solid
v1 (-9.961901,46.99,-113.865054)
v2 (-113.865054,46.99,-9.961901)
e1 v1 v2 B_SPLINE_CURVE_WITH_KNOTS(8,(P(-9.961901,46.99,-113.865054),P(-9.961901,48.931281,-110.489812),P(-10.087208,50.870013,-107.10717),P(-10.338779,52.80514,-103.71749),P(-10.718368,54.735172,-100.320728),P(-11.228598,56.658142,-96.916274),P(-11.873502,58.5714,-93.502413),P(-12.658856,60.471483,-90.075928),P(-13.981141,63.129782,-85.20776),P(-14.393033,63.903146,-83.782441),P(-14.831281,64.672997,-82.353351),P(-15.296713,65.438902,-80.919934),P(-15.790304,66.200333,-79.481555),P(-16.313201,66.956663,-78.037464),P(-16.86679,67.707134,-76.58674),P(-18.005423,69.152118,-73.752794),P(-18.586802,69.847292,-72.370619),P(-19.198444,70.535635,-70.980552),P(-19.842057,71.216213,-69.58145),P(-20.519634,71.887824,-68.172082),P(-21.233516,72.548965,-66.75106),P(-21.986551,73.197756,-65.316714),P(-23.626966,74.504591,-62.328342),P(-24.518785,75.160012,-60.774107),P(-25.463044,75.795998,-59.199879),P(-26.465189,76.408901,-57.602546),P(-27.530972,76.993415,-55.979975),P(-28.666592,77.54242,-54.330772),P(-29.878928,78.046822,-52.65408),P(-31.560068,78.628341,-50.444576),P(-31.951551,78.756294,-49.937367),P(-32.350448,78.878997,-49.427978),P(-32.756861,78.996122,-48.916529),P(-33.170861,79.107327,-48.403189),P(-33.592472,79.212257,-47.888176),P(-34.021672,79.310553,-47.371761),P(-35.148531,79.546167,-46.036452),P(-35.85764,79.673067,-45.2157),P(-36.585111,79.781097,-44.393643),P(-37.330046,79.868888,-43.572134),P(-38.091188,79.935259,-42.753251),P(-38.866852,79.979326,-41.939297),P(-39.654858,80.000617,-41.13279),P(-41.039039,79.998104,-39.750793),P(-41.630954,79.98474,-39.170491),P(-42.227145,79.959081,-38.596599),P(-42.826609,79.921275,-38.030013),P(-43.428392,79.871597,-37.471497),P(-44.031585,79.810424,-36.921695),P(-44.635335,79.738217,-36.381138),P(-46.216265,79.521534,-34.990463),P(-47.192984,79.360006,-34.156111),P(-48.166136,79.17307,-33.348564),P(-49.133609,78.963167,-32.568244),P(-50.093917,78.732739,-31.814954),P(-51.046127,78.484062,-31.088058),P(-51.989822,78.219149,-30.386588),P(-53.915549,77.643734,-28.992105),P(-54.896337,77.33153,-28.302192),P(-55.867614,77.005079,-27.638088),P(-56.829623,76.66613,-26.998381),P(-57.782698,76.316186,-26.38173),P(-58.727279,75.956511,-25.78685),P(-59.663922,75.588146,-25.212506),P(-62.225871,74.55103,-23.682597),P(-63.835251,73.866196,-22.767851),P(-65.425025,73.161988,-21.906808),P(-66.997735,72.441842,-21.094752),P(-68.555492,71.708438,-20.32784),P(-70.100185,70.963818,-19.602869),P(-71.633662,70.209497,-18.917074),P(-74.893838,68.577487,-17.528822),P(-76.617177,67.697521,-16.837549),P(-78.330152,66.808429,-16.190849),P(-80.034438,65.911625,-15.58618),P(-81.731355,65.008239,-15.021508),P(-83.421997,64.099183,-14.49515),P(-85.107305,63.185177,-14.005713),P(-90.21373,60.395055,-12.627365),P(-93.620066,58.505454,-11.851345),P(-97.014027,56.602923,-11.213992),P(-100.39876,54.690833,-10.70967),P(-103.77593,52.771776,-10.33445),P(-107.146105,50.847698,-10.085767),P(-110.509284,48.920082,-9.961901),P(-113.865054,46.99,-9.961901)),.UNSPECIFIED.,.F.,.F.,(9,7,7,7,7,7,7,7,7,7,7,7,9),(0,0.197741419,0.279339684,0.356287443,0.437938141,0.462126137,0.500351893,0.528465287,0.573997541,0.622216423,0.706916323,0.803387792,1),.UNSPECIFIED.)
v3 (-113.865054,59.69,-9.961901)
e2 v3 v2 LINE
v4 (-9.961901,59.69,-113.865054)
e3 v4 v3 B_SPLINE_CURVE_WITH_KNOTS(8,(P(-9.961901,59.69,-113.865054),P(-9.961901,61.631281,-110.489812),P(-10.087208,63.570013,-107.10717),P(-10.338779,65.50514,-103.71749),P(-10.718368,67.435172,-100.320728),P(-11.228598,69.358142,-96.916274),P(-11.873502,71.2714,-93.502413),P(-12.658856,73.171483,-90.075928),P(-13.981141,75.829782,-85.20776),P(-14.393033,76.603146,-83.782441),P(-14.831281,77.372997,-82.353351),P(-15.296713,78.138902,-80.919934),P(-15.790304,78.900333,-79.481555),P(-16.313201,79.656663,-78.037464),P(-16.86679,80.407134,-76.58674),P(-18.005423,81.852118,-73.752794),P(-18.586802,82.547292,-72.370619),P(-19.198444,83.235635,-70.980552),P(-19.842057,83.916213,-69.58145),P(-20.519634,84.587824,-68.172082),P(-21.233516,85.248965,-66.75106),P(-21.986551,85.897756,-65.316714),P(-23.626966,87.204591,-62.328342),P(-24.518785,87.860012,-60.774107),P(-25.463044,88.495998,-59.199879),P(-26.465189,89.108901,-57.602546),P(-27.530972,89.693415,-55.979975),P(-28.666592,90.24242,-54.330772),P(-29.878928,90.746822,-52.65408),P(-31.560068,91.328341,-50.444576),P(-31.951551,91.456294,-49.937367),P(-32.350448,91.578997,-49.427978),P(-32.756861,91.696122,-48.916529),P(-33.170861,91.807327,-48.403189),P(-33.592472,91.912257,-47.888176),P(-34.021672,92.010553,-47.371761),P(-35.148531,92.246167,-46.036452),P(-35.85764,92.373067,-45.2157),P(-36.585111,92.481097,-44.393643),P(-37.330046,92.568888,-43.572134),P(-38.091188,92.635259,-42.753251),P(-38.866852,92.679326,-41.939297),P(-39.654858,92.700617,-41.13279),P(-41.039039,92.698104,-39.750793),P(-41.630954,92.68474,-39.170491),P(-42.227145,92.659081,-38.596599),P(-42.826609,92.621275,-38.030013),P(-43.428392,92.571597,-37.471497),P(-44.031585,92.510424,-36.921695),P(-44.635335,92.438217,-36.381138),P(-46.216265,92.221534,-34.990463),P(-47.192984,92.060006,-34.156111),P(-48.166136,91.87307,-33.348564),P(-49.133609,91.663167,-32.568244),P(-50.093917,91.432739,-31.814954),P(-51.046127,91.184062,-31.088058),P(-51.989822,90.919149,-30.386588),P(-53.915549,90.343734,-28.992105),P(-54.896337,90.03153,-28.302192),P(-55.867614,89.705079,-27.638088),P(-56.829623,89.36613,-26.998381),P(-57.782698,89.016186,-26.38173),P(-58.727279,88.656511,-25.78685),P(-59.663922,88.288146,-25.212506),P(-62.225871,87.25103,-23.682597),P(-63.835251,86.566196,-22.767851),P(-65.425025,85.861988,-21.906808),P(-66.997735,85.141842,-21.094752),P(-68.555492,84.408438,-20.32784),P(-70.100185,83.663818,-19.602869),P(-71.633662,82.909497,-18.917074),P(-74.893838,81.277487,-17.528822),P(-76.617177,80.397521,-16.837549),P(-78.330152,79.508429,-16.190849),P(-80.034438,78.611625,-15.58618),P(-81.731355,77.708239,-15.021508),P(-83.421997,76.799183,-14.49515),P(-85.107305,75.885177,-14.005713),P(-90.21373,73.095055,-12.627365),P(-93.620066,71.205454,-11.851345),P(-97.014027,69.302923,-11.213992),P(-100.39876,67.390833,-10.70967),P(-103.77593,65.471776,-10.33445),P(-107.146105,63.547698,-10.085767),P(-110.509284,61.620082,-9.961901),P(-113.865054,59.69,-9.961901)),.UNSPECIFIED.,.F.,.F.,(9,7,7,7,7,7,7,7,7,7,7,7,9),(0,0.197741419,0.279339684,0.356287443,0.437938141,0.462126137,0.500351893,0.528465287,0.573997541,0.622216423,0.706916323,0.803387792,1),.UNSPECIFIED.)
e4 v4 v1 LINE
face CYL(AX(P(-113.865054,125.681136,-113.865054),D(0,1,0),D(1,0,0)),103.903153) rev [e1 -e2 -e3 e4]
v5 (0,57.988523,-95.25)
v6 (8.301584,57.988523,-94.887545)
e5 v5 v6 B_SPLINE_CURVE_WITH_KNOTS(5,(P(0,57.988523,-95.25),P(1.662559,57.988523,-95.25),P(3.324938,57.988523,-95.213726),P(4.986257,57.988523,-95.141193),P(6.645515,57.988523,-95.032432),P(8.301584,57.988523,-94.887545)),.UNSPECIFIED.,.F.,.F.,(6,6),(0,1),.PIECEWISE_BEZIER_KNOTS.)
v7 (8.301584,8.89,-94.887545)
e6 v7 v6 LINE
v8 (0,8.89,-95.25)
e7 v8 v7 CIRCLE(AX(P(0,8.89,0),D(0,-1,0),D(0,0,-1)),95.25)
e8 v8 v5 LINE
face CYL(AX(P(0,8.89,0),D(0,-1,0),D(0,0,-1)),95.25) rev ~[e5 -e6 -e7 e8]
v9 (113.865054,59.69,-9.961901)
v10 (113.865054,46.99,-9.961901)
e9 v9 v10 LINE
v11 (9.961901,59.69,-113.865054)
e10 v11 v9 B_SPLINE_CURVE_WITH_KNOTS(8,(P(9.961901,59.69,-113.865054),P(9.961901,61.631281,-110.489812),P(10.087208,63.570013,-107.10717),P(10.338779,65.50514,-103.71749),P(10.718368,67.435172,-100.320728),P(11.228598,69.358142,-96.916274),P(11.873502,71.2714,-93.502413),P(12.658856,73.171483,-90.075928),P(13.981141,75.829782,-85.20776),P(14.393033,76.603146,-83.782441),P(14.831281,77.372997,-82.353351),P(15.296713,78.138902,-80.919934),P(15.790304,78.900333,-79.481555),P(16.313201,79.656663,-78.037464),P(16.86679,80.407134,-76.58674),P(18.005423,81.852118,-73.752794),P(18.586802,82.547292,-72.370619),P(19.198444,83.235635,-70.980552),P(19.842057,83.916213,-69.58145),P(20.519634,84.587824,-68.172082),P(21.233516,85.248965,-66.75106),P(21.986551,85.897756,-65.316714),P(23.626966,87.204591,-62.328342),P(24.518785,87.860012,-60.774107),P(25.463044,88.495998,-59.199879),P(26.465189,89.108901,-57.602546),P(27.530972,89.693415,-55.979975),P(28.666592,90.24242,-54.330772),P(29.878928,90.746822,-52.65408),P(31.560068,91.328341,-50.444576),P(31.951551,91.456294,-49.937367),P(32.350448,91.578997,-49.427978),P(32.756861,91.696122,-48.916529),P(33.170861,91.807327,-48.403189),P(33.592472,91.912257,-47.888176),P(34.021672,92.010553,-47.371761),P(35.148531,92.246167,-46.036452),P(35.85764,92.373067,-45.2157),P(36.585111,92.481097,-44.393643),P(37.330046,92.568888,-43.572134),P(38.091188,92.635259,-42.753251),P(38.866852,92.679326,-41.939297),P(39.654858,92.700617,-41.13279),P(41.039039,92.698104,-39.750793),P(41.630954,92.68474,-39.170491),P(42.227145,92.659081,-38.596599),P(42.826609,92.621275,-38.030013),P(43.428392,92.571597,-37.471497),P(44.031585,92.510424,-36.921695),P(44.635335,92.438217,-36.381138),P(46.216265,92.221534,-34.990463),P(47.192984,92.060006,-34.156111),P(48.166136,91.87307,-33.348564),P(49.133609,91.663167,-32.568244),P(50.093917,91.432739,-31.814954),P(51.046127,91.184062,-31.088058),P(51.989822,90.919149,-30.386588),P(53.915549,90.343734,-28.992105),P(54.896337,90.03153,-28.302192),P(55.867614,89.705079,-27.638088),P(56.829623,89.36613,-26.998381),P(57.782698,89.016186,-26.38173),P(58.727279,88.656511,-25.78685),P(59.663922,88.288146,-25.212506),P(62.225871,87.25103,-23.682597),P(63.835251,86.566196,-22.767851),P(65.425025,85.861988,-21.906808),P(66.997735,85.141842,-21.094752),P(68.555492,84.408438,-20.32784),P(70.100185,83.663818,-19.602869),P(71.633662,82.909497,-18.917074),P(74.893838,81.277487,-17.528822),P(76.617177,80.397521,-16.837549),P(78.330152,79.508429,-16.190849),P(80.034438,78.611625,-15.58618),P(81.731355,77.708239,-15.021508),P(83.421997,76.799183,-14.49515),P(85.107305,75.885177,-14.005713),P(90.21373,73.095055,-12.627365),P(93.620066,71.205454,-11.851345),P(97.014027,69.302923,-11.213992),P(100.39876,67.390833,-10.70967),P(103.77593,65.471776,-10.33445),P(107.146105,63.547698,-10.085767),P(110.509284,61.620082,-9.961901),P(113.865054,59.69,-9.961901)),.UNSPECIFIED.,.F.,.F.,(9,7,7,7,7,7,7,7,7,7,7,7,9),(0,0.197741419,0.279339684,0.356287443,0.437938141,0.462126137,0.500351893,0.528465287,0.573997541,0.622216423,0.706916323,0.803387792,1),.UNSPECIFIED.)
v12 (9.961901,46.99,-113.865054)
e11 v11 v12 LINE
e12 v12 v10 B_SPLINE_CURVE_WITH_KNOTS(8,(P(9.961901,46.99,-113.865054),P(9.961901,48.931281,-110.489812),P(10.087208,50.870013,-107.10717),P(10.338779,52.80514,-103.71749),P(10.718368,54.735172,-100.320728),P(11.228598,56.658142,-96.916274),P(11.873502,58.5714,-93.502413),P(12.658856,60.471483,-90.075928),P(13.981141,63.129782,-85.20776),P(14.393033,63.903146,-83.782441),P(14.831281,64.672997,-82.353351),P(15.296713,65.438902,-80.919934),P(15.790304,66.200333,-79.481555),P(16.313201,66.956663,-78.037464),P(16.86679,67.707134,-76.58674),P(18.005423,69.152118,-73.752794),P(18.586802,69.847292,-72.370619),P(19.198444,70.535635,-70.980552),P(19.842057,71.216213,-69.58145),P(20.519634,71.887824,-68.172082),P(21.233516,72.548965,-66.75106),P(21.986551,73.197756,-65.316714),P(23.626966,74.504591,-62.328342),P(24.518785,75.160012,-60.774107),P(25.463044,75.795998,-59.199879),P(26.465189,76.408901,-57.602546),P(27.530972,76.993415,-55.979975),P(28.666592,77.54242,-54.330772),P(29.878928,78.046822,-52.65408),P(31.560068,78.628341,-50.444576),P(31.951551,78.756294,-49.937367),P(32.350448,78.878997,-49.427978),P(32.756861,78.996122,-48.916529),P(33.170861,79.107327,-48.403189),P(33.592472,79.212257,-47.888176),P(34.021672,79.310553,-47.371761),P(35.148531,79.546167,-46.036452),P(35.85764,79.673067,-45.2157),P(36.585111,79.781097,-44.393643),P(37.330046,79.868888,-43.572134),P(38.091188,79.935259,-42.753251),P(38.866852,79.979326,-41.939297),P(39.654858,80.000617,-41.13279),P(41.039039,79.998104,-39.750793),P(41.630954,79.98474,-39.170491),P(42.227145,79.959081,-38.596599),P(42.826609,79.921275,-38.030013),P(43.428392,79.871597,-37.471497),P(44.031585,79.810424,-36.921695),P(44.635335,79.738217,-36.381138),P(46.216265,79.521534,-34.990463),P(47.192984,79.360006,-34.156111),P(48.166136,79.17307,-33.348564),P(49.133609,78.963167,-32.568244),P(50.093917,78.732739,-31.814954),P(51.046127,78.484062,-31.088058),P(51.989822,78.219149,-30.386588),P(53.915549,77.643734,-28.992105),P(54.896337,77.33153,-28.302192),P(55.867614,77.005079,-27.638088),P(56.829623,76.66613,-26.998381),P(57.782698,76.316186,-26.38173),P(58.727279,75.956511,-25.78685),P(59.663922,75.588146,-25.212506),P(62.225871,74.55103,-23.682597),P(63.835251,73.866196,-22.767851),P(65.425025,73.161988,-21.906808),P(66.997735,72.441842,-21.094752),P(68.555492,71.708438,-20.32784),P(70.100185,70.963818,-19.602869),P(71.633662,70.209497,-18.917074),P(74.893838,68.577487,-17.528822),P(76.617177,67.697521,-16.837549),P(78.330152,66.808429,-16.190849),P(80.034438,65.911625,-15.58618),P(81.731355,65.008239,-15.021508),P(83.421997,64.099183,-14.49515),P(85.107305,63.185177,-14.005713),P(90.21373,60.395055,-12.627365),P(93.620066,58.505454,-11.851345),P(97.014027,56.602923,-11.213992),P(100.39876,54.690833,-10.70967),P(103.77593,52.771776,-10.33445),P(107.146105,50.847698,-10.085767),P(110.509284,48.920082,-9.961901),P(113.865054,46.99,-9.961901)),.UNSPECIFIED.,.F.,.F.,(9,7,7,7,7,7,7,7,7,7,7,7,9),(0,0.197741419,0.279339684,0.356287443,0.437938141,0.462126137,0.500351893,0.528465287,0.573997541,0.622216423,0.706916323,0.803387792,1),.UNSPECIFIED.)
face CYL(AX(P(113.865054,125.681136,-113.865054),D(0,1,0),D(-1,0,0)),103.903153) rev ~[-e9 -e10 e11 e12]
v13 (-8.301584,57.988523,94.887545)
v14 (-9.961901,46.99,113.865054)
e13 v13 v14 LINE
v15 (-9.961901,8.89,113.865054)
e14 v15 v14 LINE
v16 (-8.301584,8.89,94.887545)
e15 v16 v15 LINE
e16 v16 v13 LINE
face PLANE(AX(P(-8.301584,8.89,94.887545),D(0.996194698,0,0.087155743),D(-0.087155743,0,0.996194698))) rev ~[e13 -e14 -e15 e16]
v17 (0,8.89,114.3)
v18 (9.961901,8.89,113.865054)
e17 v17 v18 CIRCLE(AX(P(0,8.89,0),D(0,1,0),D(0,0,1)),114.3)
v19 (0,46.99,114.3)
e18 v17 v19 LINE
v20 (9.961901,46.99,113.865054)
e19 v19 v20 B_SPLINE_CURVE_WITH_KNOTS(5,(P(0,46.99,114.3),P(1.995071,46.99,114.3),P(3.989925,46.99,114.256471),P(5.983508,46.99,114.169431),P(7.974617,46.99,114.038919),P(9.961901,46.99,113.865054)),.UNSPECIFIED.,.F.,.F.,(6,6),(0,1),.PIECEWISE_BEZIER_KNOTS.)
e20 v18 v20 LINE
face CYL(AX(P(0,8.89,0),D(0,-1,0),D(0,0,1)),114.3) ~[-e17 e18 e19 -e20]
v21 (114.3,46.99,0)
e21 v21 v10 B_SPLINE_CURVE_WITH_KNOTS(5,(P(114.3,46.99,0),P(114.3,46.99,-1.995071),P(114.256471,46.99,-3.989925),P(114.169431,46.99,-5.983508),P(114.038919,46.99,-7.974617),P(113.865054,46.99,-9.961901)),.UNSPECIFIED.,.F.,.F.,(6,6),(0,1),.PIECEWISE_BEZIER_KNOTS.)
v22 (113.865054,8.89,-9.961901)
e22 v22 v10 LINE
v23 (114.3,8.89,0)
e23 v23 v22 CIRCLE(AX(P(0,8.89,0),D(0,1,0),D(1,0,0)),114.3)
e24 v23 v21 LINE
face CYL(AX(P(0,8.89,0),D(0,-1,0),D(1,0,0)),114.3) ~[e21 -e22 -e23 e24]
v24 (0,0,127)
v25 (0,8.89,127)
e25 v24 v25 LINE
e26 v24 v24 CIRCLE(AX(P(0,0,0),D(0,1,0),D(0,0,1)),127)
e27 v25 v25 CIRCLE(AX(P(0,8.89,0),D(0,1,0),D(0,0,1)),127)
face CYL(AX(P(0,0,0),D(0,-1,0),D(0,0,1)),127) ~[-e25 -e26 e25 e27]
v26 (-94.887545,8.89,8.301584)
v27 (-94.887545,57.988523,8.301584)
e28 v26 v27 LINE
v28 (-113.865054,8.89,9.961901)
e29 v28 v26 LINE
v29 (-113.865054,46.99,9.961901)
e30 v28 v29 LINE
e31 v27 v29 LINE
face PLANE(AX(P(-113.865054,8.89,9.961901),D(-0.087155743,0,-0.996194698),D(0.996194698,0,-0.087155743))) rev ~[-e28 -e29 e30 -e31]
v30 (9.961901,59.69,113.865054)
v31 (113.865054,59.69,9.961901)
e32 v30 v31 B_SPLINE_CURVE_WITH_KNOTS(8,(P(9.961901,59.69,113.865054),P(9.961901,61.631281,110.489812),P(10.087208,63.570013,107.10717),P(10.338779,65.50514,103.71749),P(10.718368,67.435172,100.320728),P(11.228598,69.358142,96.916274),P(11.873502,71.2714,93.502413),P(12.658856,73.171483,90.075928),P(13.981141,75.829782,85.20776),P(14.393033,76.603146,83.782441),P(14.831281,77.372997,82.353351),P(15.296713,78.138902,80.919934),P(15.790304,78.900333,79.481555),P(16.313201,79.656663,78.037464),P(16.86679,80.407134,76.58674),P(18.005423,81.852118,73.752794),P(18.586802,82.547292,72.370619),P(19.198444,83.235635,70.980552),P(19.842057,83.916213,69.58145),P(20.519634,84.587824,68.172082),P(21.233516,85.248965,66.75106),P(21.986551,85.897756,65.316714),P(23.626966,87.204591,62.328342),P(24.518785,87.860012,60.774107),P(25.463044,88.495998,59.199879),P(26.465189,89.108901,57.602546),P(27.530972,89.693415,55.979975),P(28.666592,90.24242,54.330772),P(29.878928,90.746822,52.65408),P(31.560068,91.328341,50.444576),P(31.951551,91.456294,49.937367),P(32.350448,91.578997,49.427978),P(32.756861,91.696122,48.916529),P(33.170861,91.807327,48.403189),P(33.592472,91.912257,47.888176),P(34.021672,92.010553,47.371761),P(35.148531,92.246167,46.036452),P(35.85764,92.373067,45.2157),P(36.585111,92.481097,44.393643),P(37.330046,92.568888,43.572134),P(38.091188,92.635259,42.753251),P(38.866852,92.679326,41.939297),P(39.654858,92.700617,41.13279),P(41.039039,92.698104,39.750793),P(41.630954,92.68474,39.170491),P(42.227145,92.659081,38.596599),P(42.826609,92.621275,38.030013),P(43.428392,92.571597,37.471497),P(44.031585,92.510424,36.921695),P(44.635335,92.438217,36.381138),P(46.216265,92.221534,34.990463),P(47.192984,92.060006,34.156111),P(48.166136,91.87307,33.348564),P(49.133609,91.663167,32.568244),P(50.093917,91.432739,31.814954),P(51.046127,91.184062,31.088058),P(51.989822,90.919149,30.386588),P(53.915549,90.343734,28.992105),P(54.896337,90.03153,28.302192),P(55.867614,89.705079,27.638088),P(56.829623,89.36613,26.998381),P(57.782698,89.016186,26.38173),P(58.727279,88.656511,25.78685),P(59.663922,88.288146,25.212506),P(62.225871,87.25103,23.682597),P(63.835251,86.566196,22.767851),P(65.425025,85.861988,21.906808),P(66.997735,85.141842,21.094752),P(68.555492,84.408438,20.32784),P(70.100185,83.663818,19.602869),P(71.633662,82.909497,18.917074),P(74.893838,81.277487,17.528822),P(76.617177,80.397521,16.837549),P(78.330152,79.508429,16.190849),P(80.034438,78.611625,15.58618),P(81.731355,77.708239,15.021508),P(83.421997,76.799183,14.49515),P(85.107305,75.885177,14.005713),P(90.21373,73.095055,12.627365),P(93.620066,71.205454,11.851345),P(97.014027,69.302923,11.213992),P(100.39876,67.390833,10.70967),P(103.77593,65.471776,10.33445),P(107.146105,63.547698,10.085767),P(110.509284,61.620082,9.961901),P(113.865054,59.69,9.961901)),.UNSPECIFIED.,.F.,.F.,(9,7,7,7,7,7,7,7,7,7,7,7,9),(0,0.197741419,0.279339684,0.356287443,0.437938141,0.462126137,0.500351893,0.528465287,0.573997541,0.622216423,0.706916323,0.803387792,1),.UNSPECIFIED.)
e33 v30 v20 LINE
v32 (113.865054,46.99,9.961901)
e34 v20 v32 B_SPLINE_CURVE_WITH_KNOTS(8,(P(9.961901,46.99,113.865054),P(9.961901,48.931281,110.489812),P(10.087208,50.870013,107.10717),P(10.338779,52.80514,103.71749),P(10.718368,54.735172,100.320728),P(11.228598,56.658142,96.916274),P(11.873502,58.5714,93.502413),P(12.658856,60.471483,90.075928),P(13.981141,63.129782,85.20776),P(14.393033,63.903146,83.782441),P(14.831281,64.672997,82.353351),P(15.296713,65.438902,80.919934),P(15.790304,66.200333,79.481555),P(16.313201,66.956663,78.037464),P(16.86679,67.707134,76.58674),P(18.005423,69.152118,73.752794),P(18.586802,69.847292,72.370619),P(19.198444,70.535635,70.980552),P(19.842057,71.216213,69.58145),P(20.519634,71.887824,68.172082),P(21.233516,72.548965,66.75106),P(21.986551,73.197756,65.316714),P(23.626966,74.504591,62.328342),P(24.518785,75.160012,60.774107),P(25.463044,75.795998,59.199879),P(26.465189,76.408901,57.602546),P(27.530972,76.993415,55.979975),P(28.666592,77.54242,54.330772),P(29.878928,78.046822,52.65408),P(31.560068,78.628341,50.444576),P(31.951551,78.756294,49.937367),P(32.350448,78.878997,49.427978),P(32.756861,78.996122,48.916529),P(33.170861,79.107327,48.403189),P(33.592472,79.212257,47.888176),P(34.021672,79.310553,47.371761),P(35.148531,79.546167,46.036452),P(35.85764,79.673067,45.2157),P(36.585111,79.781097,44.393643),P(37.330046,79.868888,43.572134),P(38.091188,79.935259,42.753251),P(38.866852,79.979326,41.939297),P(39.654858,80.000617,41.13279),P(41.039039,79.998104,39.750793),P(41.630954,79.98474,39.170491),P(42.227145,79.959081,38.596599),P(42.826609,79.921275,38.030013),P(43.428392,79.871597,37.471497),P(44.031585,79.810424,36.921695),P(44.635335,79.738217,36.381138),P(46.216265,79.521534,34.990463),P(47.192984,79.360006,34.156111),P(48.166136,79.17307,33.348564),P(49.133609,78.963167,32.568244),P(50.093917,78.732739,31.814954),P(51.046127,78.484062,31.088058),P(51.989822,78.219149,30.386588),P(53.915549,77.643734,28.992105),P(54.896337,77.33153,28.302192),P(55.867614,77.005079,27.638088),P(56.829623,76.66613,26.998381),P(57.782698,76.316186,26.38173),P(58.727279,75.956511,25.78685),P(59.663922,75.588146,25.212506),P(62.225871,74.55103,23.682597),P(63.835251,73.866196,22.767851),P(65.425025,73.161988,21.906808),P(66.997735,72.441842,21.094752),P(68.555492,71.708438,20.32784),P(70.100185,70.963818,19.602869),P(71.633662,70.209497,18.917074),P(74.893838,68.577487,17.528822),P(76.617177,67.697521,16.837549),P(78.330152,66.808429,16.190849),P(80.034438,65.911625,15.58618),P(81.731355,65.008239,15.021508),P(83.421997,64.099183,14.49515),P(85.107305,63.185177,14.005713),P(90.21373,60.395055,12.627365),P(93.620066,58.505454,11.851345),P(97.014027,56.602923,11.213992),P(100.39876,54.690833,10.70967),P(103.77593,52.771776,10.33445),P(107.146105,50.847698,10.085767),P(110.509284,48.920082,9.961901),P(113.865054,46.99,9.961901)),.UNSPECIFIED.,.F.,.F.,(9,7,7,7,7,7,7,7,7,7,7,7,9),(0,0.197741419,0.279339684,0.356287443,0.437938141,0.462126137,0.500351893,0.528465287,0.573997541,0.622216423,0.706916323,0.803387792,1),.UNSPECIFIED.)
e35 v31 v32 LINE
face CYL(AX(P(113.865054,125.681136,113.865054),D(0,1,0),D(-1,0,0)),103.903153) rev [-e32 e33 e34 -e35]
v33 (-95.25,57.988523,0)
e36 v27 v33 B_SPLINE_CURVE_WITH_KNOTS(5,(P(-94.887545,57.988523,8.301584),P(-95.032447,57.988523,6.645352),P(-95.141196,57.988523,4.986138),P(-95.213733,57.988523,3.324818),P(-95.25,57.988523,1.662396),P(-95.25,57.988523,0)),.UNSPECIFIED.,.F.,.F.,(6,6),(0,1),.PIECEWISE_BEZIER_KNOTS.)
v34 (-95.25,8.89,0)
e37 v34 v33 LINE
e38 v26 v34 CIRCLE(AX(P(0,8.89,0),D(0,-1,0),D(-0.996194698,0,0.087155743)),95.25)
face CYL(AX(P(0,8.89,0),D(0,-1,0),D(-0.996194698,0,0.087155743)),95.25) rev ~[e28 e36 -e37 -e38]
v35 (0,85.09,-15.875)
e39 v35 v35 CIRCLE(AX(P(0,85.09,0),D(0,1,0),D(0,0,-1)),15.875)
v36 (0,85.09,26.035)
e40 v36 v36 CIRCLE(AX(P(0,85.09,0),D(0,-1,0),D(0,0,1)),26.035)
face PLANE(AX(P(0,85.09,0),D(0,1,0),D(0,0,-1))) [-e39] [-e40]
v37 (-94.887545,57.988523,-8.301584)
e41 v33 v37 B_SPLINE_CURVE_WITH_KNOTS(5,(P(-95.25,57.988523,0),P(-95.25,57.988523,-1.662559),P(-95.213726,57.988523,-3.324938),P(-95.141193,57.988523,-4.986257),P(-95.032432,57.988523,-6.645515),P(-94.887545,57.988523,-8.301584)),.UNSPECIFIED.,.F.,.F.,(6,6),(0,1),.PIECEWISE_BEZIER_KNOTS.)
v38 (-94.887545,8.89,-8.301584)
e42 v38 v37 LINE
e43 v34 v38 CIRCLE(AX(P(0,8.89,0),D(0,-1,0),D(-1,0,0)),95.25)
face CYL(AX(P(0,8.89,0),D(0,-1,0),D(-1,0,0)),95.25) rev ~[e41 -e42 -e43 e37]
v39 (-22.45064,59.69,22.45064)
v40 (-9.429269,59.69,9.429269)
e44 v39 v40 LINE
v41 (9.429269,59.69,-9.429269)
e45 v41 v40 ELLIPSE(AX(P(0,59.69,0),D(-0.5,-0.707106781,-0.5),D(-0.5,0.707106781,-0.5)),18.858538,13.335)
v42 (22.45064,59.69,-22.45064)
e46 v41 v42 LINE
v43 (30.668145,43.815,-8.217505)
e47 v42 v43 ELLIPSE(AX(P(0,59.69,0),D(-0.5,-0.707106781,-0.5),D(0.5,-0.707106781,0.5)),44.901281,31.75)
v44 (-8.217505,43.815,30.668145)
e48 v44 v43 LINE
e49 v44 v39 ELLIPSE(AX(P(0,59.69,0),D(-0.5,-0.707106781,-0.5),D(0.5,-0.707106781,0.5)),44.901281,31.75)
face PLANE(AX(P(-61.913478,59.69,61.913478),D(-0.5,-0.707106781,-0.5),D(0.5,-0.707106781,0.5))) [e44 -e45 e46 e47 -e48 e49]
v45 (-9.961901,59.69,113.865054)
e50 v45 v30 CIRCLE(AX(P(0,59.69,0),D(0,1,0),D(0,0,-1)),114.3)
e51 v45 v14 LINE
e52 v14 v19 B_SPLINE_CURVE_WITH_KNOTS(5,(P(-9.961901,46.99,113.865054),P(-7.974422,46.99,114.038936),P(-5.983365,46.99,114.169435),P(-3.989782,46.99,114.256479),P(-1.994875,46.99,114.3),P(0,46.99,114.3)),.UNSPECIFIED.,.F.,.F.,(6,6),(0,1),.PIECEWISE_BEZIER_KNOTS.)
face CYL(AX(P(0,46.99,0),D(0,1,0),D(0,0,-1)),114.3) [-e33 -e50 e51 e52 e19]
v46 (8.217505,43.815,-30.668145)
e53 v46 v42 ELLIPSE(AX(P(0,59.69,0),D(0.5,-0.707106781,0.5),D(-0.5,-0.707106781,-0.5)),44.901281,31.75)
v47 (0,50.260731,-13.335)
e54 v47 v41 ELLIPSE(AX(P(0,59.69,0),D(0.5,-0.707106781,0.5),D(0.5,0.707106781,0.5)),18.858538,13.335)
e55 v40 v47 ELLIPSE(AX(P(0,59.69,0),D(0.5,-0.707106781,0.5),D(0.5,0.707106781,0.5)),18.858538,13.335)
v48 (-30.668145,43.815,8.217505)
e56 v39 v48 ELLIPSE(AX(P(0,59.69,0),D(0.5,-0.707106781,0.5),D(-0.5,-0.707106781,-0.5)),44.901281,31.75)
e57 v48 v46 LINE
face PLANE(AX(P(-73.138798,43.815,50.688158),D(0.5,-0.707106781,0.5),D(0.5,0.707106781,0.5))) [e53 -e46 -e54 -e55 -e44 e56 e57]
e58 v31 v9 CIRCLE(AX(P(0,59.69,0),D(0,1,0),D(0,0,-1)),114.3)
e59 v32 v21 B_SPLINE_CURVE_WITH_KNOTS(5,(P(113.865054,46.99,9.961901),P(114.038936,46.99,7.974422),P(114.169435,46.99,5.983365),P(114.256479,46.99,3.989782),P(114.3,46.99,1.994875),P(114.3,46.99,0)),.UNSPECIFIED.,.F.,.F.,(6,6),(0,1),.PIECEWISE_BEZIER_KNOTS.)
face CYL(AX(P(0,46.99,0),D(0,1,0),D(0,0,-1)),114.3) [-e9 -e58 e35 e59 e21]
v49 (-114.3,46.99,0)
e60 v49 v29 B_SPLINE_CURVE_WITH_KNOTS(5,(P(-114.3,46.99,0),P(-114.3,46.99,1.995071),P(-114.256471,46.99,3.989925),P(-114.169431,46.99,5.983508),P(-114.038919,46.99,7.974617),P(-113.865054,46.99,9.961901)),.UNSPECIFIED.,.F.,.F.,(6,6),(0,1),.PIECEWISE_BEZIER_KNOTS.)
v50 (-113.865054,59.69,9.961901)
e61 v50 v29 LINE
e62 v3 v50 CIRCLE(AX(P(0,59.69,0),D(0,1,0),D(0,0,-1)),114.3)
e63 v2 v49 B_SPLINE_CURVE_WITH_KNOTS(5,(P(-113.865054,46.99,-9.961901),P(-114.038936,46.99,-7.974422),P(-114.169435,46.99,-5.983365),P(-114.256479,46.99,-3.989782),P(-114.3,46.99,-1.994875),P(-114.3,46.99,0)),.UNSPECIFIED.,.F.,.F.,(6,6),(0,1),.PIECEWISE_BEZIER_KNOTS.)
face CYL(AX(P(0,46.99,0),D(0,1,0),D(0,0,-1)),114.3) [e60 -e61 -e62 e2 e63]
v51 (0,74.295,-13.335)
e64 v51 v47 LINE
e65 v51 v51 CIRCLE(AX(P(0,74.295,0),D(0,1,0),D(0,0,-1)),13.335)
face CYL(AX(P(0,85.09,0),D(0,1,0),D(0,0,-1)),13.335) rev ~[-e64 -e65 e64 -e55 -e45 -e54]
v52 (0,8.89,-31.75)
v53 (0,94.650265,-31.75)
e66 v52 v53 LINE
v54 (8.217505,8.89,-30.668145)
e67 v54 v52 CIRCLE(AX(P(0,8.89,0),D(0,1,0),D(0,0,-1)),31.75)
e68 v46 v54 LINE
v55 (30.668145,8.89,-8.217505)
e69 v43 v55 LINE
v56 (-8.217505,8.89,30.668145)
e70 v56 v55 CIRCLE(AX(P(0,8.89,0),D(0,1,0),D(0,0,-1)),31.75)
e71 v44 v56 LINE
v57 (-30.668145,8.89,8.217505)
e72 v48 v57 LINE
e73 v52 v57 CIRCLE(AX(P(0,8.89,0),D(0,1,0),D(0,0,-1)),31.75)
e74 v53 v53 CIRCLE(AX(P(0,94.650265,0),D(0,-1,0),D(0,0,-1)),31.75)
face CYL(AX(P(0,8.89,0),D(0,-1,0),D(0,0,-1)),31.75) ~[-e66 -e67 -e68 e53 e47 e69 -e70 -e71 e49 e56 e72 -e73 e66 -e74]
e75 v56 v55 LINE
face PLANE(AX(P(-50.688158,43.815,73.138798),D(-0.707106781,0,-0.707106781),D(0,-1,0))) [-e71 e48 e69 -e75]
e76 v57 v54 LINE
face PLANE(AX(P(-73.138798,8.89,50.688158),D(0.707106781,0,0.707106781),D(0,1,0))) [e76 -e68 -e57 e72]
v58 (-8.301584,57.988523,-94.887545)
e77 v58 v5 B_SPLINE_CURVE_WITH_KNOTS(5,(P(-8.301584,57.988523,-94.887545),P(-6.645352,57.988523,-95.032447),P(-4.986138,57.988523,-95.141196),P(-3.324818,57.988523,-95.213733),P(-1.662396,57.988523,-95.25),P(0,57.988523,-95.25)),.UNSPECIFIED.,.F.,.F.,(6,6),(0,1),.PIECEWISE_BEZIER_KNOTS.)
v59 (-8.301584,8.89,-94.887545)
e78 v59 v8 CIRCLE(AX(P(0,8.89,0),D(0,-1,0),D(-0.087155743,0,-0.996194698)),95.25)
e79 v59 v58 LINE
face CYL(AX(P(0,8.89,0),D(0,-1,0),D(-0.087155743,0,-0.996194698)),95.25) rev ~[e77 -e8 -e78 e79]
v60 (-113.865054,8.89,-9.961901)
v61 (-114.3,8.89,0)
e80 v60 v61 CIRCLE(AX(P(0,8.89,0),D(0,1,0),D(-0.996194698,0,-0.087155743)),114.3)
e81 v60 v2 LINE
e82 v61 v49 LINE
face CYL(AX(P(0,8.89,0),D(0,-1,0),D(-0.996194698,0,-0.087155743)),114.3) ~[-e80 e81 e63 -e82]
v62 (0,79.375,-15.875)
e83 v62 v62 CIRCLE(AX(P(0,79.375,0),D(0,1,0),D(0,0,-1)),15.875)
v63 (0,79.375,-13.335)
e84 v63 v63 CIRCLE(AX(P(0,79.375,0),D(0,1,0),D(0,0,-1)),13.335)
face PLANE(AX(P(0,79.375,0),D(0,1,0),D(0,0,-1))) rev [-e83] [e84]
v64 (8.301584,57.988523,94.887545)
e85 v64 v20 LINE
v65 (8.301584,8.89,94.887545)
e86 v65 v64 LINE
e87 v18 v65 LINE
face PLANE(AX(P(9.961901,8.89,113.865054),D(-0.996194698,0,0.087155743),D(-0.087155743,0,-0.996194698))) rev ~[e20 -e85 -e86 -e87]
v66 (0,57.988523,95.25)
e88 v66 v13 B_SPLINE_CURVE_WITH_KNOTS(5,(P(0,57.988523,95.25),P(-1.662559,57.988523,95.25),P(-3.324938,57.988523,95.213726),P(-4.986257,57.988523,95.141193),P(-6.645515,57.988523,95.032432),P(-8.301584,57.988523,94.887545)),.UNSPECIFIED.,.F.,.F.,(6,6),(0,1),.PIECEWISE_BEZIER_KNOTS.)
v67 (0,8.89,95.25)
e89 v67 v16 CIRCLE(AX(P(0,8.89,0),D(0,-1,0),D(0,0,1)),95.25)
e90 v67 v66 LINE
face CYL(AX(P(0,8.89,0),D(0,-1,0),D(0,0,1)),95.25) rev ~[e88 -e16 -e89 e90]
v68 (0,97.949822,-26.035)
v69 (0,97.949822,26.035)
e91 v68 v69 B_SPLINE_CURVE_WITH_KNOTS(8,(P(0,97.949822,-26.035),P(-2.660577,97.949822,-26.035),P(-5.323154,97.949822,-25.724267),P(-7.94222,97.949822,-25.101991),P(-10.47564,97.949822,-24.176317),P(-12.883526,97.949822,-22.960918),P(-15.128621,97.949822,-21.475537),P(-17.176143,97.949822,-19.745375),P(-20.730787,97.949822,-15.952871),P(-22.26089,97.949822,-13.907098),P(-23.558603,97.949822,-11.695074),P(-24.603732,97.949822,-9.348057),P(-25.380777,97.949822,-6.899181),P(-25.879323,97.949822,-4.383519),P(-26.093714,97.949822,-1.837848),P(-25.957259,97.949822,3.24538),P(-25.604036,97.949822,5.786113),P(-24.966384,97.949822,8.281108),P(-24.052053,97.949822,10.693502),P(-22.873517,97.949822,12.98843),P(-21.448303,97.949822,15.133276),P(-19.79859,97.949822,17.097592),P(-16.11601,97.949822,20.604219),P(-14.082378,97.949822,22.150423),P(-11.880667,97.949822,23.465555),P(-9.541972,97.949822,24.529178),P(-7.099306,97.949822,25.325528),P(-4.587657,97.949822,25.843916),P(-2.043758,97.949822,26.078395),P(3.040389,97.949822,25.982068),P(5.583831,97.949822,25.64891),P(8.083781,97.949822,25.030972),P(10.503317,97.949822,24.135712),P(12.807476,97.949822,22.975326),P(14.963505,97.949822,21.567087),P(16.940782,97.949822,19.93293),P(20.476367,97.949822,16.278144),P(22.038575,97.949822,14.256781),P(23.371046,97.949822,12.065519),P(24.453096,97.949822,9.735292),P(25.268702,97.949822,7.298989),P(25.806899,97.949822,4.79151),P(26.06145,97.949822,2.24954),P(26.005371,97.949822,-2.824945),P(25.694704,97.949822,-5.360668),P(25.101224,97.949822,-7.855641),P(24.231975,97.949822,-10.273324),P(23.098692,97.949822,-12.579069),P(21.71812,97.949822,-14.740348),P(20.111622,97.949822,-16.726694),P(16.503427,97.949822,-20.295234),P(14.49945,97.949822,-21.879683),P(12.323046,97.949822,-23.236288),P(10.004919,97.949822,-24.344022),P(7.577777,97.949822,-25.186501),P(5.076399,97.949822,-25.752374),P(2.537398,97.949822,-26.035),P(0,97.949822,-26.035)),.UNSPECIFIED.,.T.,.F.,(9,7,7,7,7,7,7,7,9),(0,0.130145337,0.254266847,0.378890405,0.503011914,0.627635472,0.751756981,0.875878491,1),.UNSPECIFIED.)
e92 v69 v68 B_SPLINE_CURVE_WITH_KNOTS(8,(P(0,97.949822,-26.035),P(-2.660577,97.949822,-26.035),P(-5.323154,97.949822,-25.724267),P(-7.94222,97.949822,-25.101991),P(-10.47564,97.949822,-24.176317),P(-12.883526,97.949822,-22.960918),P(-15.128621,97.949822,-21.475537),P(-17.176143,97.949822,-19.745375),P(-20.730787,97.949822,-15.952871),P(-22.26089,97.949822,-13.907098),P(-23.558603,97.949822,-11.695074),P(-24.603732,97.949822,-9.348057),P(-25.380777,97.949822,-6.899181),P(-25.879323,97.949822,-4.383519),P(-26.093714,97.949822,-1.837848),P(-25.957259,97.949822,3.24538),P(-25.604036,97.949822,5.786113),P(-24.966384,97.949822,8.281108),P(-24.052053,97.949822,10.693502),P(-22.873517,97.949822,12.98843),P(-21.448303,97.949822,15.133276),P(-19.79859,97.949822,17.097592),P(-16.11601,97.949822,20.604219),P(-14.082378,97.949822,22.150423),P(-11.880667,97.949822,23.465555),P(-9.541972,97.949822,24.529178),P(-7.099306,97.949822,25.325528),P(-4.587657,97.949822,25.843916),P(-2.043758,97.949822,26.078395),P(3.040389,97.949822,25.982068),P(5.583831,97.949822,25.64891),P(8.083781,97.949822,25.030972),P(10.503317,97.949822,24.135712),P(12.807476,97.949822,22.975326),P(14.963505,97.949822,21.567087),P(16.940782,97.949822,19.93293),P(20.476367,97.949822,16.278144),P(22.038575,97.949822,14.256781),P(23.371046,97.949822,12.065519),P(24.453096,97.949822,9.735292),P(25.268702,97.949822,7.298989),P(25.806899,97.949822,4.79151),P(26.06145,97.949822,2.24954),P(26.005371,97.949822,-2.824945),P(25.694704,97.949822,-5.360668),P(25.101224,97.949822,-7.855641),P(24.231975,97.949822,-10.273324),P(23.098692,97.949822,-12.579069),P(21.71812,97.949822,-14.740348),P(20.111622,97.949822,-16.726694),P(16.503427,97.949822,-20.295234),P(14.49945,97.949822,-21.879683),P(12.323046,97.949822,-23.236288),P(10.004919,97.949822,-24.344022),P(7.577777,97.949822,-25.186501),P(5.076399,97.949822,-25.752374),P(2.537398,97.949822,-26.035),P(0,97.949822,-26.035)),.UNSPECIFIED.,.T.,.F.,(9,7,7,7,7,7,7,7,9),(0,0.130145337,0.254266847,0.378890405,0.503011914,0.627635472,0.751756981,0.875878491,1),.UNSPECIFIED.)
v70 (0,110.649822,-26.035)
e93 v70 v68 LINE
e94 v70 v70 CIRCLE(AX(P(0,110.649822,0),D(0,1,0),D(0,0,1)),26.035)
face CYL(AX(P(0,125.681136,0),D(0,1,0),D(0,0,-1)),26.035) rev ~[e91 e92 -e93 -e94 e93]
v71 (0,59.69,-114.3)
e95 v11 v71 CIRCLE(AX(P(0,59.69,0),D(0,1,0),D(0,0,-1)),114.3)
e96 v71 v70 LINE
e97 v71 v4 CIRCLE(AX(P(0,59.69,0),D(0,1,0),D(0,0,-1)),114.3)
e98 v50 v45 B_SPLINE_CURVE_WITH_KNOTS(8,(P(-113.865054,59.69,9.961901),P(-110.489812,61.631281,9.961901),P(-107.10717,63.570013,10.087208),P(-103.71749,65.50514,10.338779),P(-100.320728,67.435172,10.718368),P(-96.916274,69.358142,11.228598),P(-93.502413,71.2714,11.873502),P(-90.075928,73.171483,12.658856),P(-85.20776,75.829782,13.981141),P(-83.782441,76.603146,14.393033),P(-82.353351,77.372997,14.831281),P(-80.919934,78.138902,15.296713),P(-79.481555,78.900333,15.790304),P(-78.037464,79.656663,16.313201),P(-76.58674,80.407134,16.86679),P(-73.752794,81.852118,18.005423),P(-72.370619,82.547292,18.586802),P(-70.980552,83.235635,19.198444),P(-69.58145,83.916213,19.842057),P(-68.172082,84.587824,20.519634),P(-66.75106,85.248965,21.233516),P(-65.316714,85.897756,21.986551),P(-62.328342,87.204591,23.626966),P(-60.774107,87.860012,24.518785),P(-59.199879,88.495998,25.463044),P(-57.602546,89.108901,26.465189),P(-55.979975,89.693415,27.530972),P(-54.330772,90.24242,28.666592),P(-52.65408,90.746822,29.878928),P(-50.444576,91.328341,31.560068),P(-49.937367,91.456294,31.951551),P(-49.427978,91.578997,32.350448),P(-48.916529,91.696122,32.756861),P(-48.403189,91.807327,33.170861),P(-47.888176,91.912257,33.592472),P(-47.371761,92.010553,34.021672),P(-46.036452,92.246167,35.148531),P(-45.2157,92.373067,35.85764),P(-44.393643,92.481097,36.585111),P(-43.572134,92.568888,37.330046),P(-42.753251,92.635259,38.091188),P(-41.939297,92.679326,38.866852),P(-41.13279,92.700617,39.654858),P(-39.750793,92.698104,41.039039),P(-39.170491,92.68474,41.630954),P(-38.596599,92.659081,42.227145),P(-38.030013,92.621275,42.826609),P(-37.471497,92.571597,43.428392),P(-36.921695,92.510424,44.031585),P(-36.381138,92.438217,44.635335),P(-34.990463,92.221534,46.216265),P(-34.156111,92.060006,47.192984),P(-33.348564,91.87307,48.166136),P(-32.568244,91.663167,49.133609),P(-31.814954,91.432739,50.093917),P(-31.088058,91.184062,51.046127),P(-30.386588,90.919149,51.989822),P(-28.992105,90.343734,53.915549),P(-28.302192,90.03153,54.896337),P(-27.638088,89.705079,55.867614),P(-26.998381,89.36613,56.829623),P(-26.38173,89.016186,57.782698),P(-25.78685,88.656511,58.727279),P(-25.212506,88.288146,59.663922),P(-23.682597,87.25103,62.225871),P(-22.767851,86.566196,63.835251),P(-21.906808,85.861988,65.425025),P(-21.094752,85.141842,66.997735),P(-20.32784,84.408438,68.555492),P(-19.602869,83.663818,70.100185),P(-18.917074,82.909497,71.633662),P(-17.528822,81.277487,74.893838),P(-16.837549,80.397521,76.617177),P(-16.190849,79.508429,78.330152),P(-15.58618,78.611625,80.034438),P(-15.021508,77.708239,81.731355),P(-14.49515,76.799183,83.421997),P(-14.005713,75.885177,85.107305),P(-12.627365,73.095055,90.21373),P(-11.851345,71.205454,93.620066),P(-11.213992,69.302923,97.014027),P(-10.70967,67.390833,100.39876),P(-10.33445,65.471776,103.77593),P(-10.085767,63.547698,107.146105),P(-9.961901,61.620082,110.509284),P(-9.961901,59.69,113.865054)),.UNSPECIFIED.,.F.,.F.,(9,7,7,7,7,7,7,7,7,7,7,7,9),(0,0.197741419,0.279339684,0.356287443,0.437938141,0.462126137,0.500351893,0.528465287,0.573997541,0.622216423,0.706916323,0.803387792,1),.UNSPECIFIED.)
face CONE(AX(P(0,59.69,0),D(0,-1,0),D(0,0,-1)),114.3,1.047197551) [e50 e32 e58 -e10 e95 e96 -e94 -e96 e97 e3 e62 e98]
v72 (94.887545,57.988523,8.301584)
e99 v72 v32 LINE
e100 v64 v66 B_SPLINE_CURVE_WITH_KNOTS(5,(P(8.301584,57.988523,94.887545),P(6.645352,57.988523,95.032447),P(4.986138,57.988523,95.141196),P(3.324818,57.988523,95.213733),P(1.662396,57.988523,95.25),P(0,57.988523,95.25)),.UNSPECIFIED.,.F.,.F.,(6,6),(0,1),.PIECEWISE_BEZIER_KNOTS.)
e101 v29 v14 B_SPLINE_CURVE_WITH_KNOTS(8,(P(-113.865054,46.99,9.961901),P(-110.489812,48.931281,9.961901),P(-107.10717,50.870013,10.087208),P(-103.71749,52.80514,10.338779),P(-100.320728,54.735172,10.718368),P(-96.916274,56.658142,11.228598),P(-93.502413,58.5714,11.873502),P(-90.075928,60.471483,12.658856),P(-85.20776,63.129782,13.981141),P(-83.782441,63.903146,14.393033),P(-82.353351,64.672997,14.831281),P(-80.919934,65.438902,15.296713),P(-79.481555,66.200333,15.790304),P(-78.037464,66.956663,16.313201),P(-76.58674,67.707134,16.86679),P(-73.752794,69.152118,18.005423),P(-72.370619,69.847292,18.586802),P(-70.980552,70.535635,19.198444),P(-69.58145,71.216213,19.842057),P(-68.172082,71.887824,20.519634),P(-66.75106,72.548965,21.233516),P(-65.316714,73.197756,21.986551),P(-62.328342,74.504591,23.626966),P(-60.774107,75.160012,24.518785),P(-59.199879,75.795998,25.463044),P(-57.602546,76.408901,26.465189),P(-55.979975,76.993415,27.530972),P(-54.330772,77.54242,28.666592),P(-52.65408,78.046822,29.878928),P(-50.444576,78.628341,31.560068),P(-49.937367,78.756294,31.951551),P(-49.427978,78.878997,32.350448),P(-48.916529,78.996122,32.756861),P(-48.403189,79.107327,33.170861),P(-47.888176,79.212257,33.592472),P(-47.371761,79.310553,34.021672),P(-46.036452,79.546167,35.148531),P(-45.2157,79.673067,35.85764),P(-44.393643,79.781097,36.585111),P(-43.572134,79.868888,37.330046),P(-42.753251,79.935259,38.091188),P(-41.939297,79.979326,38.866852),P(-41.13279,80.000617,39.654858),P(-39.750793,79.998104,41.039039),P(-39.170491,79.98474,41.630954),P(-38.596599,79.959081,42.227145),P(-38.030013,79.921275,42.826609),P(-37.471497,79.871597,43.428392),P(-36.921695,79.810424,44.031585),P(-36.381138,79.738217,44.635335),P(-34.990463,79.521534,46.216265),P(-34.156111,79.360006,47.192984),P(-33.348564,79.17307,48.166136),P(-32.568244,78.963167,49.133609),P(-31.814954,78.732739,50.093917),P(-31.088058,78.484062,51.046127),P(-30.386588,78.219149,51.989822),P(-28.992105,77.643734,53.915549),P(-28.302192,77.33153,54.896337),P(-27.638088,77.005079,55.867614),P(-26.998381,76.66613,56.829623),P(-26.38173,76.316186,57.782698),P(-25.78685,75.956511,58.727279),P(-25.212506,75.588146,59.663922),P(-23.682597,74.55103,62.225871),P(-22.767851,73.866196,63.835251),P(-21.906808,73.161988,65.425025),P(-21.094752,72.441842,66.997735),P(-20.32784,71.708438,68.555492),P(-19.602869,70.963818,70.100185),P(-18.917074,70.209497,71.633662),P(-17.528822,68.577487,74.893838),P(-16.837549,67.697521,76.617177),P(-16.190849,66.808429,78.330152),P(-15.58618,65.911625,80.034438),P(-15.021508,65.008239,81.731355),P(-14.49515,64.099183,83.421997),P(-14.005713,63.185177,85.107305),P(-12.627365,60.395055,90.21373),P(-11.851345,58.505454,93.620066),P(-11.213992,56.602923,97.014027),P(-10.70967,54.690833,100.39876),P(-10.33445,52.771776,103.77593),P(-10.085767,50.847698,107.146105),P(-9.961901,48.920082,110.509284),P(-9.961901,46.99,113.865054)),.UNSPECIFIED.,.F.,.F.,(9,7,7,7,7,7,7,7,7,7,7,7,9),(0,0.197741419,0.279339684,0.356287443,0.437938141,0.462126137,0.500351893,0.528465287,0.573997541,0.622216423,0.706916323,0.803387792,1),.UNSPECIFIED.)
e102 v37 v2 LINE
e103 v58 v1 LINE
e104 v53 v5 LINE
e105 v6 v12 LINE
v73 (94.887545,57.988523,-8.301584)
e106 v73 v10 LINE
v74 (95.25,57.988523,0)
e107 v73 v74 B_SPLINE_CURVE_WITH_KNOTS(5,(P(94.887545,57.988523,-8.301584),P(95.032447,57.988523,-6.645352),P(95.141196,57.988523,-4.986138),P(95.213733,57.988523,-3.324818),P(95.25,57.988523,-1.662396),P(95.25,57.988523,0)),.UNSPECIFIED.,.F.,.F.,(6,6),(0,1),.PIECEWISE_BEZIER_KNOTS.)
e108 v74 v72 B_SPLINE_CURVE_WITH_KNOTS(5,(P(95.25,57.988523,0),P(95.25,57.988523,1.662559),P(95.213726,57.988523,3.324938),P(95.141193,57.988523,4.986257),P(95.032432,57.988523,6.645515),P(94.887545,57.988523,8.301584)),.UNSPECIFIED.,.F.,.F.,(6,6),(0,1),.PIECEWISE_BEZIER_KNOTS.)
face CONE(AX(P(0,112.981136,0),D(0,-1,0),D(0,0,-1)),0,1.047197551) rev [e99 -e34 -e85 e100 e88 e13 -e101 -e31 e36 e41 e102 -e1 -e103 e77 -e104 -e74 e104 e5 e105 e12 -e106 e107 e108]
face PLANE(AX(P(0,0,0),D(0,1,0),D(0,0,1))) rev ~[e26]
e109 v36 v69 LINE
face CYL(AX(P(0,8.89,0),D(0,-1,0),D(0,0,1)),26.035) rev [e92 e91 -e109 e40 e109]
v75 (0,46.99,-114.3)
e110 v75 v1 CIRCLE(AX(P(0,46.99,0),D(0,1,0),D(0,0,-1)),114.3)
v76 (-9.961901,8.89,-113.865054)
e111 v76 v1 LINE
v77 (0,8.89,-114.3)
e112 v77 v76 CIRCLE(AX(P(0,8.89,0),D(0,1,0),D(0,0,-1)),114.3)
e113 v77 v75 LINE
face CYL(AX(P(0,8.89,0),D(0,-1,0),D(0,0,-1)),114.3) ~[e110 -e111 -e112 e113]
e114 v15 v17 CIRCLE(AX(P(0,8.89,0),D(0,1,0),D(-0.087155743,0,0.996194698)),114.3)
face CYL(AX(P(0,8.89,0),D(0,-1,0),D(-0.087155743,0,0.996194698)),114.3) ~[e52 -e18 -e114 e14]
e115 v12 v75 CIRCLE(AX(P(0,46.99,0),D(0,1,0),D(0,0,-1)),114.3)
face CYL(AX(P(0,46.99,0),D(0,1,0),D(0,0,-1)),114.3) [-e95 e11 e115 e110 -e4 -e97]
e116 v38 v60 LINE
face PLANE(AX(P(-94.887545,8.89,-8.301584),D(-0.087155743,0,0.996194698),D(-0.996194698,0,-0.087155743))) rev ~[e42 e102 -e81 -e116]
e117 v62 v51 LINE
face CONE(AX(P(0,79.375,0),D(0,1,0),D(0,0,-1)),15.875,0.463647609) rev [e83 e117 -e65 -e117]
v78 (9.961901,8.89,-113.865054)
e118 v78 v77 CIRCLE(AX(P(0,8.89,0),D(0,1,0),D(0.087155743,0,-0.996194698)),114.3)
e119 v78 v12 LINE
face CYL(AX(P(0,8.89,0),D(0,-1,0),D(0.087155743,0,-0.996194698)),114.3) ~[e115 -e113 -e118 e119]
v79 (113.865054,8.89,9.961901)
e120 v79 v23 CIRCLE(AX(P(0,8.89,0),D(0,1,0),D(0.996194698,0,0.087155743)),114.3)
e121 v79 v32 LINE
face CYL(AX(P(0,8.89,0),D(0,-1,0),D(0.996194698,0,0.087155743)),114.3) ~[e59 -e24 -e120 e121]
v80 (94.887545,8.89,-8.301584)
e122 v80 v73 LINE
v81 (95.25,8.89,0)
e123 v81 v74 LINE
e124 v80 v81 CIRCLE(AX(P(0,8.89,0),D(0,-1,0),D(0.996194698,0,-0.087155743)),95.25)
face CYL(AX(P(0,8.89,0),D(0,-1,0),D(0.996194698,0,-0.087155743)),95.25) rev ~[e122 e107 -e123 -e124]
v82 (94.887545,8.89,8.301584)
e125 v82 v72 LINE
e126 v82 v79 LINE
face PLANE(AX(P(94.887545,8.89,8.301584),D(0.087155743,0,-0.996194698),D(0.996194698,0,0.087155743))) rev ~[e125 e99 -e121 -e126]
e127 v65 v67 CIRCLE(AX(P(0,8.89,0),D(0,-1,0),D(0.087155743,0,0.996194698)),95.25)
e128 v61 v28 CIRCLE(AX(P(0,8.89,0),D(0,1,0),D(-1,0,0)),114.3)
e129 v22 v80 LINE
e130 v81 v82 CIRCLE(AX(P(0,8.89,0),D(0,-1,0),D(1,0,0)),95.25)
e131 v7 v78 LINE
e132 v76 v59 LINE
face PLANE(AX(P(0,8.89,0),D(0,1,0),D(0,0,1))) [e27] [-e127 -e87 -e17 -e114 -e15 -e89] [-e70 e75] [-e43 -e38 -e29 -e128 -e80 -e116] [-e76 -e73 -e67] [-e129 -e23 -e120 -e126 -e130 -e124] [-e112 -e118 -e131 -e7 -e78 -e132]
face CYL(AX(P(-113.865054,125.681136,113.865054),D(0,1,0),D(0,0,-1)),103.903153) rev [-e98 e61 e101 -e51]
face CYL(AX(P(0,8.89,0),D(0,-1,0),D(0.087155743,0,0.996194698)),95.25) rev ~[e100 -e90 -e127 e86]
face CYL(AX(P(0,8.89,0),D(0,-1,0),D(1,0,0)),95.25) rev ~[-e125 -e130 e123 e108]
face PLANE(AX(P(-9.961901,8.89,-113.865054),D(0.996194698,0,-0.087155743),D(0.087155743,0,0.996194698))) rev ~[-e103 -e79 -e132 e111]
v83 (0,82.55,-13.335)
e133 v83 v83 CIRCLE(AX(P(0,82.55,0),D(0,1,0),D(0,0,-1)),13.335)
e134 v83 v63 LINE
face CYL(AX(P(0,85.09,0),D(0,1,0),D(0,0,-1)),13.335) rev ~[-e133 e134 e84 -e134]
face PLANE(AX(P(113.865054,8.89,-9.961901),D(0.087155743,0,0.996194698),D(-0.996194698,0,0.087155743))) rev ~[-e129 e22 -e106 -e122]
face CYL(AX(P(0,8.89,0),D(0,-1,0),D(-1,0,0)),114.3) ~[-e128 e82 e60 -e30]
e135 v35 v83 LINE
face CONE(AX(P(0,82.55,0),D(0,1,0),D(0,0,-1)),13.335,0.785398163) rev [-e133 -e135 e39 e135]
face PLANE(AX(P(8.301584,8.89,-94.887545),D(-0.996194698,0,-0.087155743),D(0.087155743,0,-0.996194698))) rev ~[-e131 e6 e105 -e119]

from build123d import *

# Parameters (mm, degrees)
SKETCH1_R                      = 127
BASE_OF_BASE_DEPTH             = 8.89
BALL_BEARING_CUT_REACH         = 221.212
SKETCH8_R                      = 26.035
SUPPORT_REACH                  = 208.429
SUPPORTS_COUNT                 = 4
CUT_FOR_PRINTABIITY_REACH      = 221.212
HOLDER_START                   = 76.2
SKETCH14_R                     = 26.035
SKETCH14_R_2                   = 13.335
HOLDER_FOR_SHOULDER_DEPTH      = 76.2
CENTER_CYLINDER_REACH          = 208.429
SKETCH14_3_R                   = 31.75
SKETCH14_3_R_2                 = 26.035
FUNNEL_INTO_SNAP_IN_PLACE_SIZE = 2.54
ACCESSIBILITY_CUT_DEPTH        = 290.1712073


with BuildPart() as part:
    # Sketch1 → Base of base (new body)
    with BuildSketch(Plane(origin=(0, 0, 0), x_dir=(1, 0, 0), z_dir=(0, 1, 0))):
        with Locations(Location((0, 0, 0), (0, 0, 270))):
            Circle(SKETCH1_R)
    extrude(amount=BASE_OF_BASE_DEPTH)



with BuildPart() as body_2:
    # Sketch7 → Top Part of Base (revolve)
    with BuildSketch(Plane(origin=(0, 0, 0), x_dir=(0, 0, -1), z_dir=(1, 0, 0)), mode=Mode.PRIVATE) as top_part_of_base_sk:
        Polygon((0, 125.681135768), (0, 112.981135768), (-114.3, 46.99), (-114.3, 59.69), align=None)
    revolve(top_part_of_base_sk.sketch.rotate(Axis((0, 8.89, 0), (0, 1, 0)), 180), axis=Axis((0, 8.89, 0), (0, 1, 0)))

    # Ball Bearing Cut: up to this cone (the profile starts outside it)
    ball_bearing_cut_end = Plane(origin=(0, 125.681136, 0), z_dir=(0, -1, 0)).offset(12.700001232) * Cone(1.732e-06, 362.01940299, 209.011998768, align=(Align.CENTER, Align.CENTER, Align.MIN), mode=Mode.PRIVATE)
    # Sketch8 → Ball Bearing Cut (cut, up to the surface)
    with BuildSketch(Plane(origin=(0, 125.681135768, 0), x_dir=(1, 0, 0), z_dir=(0, 1, 0)), mode=Mode.PRIVATE) as ball_bearing_cut_sk1:
        with Locations(Location((0, 0, 0), (0, 0, 90))):
            Circle(SKETCH8_R)
    ball_bearing_cut_tool1 = extrude(ball_bearing_cut_sk1.sketch, amount=-BALL_BEARING_CUT_REACH, mode=Mode.PRIVATE) - ball_bearing_cut_end
    add(ball_bearing_cut_tool1.solids().sort_by_distance((0, 125.681136, 0))[0], mode=Mode.SUBTRACT)


with BuildPart() as part_1:
    add(part.part)

    add(body_2.part)  # Support merges body 2
    # Support: up to this cone (the profile starts inside it)
    support_end = Plane(origin=(0, 8.89, 0), z_dir=(0, -1, 0)).offset(-104.091134768) * Cone(1.732e-06, 854.440186248, 493.311270537, align=(Align.CENTER, Align.CENTER, Align.MIN), mode=Mode.PRIVATE)
    # Sketch10 → Support (add, up to the surface)
    with BuildSketch(Plane(origin=(0, 8.89, 0), x_dir=(1, 0, 0), z_dir=(0, 1, 0)), mode=Mode.PRIVATE) as support_sk1:
        with BuildLine():
            ThreePointArc((-8.301584497, 94.887544993), (-4.154746647, 95.159343106), (0, 95.25))
            Line((0, 95.25), (0, 114.3))
            ThreePointArc((0, 114.3), (-4.985695976, 114.191211727), (-9.961901396, 113.865053992))
            Line((-9.961901396, 113.865053992), (-8.301584497, 94.887544993))
        make_face()
    support_tool1 = extrude(support_sk1.sketch, amount=SUPPORT_REACH, mode=Mode.PRIVATE) & support_end
    # Sketch10 → Support (add, up to the surface)
    with BuildSketch(Plane(origin=(0, 8.89, 0), x_dir=(1, 0, 0), z_dir=(0, 1, 0)), mode=Mode.PRIVATE) as support_sk2:
        with BuildLine():
            Line((0, 114.3), (0, 95.25))
            ThreePointArc((0, 95.25), (4.154746647, 95.159343106), (8.301584497, 94.887544993))
            Line((8.301584497, 94.887544993), (9.961901396, 113.865053992))
            ThreePointArc((9.961901396, 113.865053992), (4.985695976, 114.191211727), (0, 114.3))
        make_face()
    support_tool2 = extrude(support_sk2.sketch, amount=SUPPORT_REACH, mode=Mode.PRIVATE) & support_end
    support = support_tool1.solids().sort_by_distance((-4.581357, 8.89, -104.930336))[0] + support_tool2.solids().sort_by_distance((4.581357, 8.89, -104.930336))[0]
    add(support)

    # Supports: Support ×4 about axis
    supports_axis = Axis((0, 8.89, 0), (0, 1, 0))
    for i in range(1, SUPPORTS_COUNT):
        add(support.rotate(supports_axis, i * 360 / SUPPORTS_COUNT))

    # Cut for Printabiity: up to this cone (the profile starts outside it)
    cut_for_printabiity_end = Plane(origin=(0, 125.681136, 0), z_dir=(0, -1, 0)).offset(12.700001232) * Cone(1.732e-06, 362.01940299, 209.011998768, align=(Align.CENTER, Align.CENTER, Align.MIN), mode=Mode.PRIVATE)
    # Sketch12 → Cut for Printabiity (cut, up to the surface)
    with BuildSketch(Plane(origin=(0, 125.681135768, 0), x_dir=(1, 0, 0), z_dir=(0, 1, 0)), mode=Mode.PRIVATE) as cut_for_printabiity_sk1:
        with BuildLine():
            ThreePointArc((-113.865053992, -9.961901396), (-40.394430205, -40.394430205), (-9.961901396, -113.865053992))
            ThreePointArc((-9.961901396, -113.865053992), (-80.82230509, -80.82230509), (-113.865053992, -9.961901396))
        make_face()
    cut_for_printabiity_tool1 = extrude(cut_for_printabiity_sk1.sketch, amount=-CUT_FOR_PRINTABIITY_REACH, mode=Mode.PRIVATE) - cut_for_printabiity_end
    add(cut_for_printabiity_tool1.solids().sort_by_distance((-60.814886, 125.681136, 60.814886))[0], mode=Mode.SUBTRACT)
    # Sketch12 → Cut for Printabiity (cut, up to the surface)
    with BuildSketch(Plane(origin=(0, 125.681135768, 0), x_dir=(1, 0, 0), z_dir=(0, 1, 0)), mode=Mode.PRIVATE) as cut_for_printabiity_sk2:
        with BuildLine():
            ThreePointArc((-9.961901396, 113.865053992), (-40.394430205, 40.394430205), (-113.865053992, 9.961901396))
            ThreePointArc((-113.865053992, 9.961901396), (-80.82230509, 80.82230509), (-9.961901396, 113.865053992))
        make_face()
    cut_for_printabiity_tool2 = extrude(cut_for_printabiity_sk2.sketch, amount=-CUT_FOR_PRINTABIITY_REACH, mode=Mode.PRIVATE) - cut_for_printabiity_end
    add(cut_for_printabiity_tool2.solids().sort_by_distance((-60.814886, 125.681136, -60.814886))[0], mode=Mode.SUBTRACT)
    # Sketch12 → Cut for Printabiity (cut, up to the surface)
    with BuildSketch(Plane(origin=(0, 125.681135768, 0), x_dir=(1, 0, 0), z_dir=(0, 1, 0)), mode=Mode.PRIVATE) as cut_for_printabiity_sk3:
        with BuildLine():
            ThreePointArc((9.961901396, 113.865053992), (40.394430205, 40.394430205), (113.865053992, 9.961901396))
            ThreePointArc((113.865053992, 9.961901396), (80.82230509, 80.82230509), (9.961901396, 113.865053992))
        make_face()
    cut_for_printabiity_tool3 = extrude(cut_for_printabiity_sk3.sketch, amount=-CUT_FOR_PRINTABIITY_REACH, mode=Mode.PRIVATE) - cut_for_printabiity_end
    add(cut_for_printabiity_tool3.solids().sort_by_distance((60.814886, 125.681136, -60.814886))[0], mode=Mode.SUBTRACT)
    # Sketch12 → Cut for Printabiity (cut, up to the surface)
    with BuildSketch(Plane(origin=(0, 125.681135768, 0), x_dir=(1, 0, 0), z_dir=(0, 1, 0)), mode=Mode.PRIVATE) as cut_for_printabiity_sk4:
        with BuildLine():
            ThreePointArc((9.961901396, -113.865053992), (40.394430205, -40.394430205), (113.865053992, -9.961901396))
            ThreePointArc((113.865053992, -9.961901396), (80.82230509, -80.82230509), (9.961901396, -113.865053992))
        make_face()
    cut_for_printabiity_tool4 = extrude(cut_for_printabiity_sk4.sketch, amount=-CUT_FOR_PRINTABIITY_REACH, mode=Mode.PRIVATE) - cut_for_printabiity_end
    add(cut_for_printabiity_tool4.solids().sort_by_distance((60.814886, 125.681136, 60.814886))[0], mode=Mode.SUBTRACT)

    # Sketch14 → Holder for Shoulder (add)
    with BuildSketch(Plane(origin=(0, 8.89, 0), x_dir=(1, 0, 0), z_dir=(0, 1, 0)).offset(HOLDER_START)):
        with Locations(Location((0, 0, 0), (0, 0, 90))):
            Circle(SKETCH14_R)
        with Locations(Location((0, 0, 0), (0, 0, 90))):
            Circle(SKETCH14_R_2, mode=Mode.SUBTRACT)
    extrude(amount=-HOLDER_FOR_SHOULDER_DEPTH)

    # Center Cylinder: up to this cone (the profile starts inside it)
    center_cylinder_end = Plane(origin=(0, 8.89, 0), z_dir=(0, -1, 0)).offset(-104.091134768) * Cone(1.732e-06, 854.440186248, 493.311270537, align=(Align.CENTER, Align.CENTER, Align.MIN), mode=Mode.PRIVATE)
    # Sketch14<3> → Center Cylinder (add, up to the surface)
    with BuildSketch(Plane(origin=(0, 8.89, 0), x_dir=(1, 0, 0), z_dir=(0, 1, 0)), mode=Mode.PRIVATE) as center_cylinder_sk1:
        with Locations(Location((0, 0, 0), (0, 0, 90))):
            Circle(SKETCH14_3_R)
        with Locations(Location((0, 0, 0), (0, 0, 270))):
            Circle(SKETCH14_3_R_2, mode=Mode.SUBTRACT)
    center_cylinder_tool1 = extrude(center_cylinder_sk1.sketch, amount=CENTER_CYLINDER_REACH, mode=Mode.PRIVATE) & center_cylinder_end
    add(center_cylinder_tool1.solids().sort_by_distance((0, 8.89, 30.851974))[0])

    # Funnel into Snap in Place
    funnel_into_snap_in_place_edges = [part_1.edges().sort_by_distance(p)[0] for p in [
        (0, 85.09, 13.335),
    ]]
    chamfer(funnel_into_snap_in_place_edges, length=FUNNEL_INTO_SNAP_IN_PLACE_SIZE)

    # Sketch19 → Accessibility Cut (cut, through all)
    with BuildSketch(Plane(origin=(-61.913477694, 0, 61.913477694), x_dir=(-0.7071067811865487, 0, -0.7071067811865465), z_dir=(0.7071067811865465, 0, -0.7071067811865487))):
        Polygon((0, 8.89), (15.875, 8.89), (15.875, 43.815), (0, 59.69), (-15.875, 43.815), (-15.875, 8.89), align=None)
    extrude(amount=ACCESSIBILITY_CUT_DEPTH, mode=Mode.SUBTRACT)

    # Sketch20 → Cut-Revolve1 (revolve, cut)
    with BuildSketch(Plane(origin=(0, 0, 0), x_dir=(0, 0, -1), z_dir=(1, 0, 0))):
        Polygon((13.335, 74.295), (13.335, 79.375), (15.875, 79.375), align=None)
    revolve(axis=Axis((0, 8.89, 0), (0, 1, 0)), mode=Mode.SUBTRACT)


solid = part_1.part
